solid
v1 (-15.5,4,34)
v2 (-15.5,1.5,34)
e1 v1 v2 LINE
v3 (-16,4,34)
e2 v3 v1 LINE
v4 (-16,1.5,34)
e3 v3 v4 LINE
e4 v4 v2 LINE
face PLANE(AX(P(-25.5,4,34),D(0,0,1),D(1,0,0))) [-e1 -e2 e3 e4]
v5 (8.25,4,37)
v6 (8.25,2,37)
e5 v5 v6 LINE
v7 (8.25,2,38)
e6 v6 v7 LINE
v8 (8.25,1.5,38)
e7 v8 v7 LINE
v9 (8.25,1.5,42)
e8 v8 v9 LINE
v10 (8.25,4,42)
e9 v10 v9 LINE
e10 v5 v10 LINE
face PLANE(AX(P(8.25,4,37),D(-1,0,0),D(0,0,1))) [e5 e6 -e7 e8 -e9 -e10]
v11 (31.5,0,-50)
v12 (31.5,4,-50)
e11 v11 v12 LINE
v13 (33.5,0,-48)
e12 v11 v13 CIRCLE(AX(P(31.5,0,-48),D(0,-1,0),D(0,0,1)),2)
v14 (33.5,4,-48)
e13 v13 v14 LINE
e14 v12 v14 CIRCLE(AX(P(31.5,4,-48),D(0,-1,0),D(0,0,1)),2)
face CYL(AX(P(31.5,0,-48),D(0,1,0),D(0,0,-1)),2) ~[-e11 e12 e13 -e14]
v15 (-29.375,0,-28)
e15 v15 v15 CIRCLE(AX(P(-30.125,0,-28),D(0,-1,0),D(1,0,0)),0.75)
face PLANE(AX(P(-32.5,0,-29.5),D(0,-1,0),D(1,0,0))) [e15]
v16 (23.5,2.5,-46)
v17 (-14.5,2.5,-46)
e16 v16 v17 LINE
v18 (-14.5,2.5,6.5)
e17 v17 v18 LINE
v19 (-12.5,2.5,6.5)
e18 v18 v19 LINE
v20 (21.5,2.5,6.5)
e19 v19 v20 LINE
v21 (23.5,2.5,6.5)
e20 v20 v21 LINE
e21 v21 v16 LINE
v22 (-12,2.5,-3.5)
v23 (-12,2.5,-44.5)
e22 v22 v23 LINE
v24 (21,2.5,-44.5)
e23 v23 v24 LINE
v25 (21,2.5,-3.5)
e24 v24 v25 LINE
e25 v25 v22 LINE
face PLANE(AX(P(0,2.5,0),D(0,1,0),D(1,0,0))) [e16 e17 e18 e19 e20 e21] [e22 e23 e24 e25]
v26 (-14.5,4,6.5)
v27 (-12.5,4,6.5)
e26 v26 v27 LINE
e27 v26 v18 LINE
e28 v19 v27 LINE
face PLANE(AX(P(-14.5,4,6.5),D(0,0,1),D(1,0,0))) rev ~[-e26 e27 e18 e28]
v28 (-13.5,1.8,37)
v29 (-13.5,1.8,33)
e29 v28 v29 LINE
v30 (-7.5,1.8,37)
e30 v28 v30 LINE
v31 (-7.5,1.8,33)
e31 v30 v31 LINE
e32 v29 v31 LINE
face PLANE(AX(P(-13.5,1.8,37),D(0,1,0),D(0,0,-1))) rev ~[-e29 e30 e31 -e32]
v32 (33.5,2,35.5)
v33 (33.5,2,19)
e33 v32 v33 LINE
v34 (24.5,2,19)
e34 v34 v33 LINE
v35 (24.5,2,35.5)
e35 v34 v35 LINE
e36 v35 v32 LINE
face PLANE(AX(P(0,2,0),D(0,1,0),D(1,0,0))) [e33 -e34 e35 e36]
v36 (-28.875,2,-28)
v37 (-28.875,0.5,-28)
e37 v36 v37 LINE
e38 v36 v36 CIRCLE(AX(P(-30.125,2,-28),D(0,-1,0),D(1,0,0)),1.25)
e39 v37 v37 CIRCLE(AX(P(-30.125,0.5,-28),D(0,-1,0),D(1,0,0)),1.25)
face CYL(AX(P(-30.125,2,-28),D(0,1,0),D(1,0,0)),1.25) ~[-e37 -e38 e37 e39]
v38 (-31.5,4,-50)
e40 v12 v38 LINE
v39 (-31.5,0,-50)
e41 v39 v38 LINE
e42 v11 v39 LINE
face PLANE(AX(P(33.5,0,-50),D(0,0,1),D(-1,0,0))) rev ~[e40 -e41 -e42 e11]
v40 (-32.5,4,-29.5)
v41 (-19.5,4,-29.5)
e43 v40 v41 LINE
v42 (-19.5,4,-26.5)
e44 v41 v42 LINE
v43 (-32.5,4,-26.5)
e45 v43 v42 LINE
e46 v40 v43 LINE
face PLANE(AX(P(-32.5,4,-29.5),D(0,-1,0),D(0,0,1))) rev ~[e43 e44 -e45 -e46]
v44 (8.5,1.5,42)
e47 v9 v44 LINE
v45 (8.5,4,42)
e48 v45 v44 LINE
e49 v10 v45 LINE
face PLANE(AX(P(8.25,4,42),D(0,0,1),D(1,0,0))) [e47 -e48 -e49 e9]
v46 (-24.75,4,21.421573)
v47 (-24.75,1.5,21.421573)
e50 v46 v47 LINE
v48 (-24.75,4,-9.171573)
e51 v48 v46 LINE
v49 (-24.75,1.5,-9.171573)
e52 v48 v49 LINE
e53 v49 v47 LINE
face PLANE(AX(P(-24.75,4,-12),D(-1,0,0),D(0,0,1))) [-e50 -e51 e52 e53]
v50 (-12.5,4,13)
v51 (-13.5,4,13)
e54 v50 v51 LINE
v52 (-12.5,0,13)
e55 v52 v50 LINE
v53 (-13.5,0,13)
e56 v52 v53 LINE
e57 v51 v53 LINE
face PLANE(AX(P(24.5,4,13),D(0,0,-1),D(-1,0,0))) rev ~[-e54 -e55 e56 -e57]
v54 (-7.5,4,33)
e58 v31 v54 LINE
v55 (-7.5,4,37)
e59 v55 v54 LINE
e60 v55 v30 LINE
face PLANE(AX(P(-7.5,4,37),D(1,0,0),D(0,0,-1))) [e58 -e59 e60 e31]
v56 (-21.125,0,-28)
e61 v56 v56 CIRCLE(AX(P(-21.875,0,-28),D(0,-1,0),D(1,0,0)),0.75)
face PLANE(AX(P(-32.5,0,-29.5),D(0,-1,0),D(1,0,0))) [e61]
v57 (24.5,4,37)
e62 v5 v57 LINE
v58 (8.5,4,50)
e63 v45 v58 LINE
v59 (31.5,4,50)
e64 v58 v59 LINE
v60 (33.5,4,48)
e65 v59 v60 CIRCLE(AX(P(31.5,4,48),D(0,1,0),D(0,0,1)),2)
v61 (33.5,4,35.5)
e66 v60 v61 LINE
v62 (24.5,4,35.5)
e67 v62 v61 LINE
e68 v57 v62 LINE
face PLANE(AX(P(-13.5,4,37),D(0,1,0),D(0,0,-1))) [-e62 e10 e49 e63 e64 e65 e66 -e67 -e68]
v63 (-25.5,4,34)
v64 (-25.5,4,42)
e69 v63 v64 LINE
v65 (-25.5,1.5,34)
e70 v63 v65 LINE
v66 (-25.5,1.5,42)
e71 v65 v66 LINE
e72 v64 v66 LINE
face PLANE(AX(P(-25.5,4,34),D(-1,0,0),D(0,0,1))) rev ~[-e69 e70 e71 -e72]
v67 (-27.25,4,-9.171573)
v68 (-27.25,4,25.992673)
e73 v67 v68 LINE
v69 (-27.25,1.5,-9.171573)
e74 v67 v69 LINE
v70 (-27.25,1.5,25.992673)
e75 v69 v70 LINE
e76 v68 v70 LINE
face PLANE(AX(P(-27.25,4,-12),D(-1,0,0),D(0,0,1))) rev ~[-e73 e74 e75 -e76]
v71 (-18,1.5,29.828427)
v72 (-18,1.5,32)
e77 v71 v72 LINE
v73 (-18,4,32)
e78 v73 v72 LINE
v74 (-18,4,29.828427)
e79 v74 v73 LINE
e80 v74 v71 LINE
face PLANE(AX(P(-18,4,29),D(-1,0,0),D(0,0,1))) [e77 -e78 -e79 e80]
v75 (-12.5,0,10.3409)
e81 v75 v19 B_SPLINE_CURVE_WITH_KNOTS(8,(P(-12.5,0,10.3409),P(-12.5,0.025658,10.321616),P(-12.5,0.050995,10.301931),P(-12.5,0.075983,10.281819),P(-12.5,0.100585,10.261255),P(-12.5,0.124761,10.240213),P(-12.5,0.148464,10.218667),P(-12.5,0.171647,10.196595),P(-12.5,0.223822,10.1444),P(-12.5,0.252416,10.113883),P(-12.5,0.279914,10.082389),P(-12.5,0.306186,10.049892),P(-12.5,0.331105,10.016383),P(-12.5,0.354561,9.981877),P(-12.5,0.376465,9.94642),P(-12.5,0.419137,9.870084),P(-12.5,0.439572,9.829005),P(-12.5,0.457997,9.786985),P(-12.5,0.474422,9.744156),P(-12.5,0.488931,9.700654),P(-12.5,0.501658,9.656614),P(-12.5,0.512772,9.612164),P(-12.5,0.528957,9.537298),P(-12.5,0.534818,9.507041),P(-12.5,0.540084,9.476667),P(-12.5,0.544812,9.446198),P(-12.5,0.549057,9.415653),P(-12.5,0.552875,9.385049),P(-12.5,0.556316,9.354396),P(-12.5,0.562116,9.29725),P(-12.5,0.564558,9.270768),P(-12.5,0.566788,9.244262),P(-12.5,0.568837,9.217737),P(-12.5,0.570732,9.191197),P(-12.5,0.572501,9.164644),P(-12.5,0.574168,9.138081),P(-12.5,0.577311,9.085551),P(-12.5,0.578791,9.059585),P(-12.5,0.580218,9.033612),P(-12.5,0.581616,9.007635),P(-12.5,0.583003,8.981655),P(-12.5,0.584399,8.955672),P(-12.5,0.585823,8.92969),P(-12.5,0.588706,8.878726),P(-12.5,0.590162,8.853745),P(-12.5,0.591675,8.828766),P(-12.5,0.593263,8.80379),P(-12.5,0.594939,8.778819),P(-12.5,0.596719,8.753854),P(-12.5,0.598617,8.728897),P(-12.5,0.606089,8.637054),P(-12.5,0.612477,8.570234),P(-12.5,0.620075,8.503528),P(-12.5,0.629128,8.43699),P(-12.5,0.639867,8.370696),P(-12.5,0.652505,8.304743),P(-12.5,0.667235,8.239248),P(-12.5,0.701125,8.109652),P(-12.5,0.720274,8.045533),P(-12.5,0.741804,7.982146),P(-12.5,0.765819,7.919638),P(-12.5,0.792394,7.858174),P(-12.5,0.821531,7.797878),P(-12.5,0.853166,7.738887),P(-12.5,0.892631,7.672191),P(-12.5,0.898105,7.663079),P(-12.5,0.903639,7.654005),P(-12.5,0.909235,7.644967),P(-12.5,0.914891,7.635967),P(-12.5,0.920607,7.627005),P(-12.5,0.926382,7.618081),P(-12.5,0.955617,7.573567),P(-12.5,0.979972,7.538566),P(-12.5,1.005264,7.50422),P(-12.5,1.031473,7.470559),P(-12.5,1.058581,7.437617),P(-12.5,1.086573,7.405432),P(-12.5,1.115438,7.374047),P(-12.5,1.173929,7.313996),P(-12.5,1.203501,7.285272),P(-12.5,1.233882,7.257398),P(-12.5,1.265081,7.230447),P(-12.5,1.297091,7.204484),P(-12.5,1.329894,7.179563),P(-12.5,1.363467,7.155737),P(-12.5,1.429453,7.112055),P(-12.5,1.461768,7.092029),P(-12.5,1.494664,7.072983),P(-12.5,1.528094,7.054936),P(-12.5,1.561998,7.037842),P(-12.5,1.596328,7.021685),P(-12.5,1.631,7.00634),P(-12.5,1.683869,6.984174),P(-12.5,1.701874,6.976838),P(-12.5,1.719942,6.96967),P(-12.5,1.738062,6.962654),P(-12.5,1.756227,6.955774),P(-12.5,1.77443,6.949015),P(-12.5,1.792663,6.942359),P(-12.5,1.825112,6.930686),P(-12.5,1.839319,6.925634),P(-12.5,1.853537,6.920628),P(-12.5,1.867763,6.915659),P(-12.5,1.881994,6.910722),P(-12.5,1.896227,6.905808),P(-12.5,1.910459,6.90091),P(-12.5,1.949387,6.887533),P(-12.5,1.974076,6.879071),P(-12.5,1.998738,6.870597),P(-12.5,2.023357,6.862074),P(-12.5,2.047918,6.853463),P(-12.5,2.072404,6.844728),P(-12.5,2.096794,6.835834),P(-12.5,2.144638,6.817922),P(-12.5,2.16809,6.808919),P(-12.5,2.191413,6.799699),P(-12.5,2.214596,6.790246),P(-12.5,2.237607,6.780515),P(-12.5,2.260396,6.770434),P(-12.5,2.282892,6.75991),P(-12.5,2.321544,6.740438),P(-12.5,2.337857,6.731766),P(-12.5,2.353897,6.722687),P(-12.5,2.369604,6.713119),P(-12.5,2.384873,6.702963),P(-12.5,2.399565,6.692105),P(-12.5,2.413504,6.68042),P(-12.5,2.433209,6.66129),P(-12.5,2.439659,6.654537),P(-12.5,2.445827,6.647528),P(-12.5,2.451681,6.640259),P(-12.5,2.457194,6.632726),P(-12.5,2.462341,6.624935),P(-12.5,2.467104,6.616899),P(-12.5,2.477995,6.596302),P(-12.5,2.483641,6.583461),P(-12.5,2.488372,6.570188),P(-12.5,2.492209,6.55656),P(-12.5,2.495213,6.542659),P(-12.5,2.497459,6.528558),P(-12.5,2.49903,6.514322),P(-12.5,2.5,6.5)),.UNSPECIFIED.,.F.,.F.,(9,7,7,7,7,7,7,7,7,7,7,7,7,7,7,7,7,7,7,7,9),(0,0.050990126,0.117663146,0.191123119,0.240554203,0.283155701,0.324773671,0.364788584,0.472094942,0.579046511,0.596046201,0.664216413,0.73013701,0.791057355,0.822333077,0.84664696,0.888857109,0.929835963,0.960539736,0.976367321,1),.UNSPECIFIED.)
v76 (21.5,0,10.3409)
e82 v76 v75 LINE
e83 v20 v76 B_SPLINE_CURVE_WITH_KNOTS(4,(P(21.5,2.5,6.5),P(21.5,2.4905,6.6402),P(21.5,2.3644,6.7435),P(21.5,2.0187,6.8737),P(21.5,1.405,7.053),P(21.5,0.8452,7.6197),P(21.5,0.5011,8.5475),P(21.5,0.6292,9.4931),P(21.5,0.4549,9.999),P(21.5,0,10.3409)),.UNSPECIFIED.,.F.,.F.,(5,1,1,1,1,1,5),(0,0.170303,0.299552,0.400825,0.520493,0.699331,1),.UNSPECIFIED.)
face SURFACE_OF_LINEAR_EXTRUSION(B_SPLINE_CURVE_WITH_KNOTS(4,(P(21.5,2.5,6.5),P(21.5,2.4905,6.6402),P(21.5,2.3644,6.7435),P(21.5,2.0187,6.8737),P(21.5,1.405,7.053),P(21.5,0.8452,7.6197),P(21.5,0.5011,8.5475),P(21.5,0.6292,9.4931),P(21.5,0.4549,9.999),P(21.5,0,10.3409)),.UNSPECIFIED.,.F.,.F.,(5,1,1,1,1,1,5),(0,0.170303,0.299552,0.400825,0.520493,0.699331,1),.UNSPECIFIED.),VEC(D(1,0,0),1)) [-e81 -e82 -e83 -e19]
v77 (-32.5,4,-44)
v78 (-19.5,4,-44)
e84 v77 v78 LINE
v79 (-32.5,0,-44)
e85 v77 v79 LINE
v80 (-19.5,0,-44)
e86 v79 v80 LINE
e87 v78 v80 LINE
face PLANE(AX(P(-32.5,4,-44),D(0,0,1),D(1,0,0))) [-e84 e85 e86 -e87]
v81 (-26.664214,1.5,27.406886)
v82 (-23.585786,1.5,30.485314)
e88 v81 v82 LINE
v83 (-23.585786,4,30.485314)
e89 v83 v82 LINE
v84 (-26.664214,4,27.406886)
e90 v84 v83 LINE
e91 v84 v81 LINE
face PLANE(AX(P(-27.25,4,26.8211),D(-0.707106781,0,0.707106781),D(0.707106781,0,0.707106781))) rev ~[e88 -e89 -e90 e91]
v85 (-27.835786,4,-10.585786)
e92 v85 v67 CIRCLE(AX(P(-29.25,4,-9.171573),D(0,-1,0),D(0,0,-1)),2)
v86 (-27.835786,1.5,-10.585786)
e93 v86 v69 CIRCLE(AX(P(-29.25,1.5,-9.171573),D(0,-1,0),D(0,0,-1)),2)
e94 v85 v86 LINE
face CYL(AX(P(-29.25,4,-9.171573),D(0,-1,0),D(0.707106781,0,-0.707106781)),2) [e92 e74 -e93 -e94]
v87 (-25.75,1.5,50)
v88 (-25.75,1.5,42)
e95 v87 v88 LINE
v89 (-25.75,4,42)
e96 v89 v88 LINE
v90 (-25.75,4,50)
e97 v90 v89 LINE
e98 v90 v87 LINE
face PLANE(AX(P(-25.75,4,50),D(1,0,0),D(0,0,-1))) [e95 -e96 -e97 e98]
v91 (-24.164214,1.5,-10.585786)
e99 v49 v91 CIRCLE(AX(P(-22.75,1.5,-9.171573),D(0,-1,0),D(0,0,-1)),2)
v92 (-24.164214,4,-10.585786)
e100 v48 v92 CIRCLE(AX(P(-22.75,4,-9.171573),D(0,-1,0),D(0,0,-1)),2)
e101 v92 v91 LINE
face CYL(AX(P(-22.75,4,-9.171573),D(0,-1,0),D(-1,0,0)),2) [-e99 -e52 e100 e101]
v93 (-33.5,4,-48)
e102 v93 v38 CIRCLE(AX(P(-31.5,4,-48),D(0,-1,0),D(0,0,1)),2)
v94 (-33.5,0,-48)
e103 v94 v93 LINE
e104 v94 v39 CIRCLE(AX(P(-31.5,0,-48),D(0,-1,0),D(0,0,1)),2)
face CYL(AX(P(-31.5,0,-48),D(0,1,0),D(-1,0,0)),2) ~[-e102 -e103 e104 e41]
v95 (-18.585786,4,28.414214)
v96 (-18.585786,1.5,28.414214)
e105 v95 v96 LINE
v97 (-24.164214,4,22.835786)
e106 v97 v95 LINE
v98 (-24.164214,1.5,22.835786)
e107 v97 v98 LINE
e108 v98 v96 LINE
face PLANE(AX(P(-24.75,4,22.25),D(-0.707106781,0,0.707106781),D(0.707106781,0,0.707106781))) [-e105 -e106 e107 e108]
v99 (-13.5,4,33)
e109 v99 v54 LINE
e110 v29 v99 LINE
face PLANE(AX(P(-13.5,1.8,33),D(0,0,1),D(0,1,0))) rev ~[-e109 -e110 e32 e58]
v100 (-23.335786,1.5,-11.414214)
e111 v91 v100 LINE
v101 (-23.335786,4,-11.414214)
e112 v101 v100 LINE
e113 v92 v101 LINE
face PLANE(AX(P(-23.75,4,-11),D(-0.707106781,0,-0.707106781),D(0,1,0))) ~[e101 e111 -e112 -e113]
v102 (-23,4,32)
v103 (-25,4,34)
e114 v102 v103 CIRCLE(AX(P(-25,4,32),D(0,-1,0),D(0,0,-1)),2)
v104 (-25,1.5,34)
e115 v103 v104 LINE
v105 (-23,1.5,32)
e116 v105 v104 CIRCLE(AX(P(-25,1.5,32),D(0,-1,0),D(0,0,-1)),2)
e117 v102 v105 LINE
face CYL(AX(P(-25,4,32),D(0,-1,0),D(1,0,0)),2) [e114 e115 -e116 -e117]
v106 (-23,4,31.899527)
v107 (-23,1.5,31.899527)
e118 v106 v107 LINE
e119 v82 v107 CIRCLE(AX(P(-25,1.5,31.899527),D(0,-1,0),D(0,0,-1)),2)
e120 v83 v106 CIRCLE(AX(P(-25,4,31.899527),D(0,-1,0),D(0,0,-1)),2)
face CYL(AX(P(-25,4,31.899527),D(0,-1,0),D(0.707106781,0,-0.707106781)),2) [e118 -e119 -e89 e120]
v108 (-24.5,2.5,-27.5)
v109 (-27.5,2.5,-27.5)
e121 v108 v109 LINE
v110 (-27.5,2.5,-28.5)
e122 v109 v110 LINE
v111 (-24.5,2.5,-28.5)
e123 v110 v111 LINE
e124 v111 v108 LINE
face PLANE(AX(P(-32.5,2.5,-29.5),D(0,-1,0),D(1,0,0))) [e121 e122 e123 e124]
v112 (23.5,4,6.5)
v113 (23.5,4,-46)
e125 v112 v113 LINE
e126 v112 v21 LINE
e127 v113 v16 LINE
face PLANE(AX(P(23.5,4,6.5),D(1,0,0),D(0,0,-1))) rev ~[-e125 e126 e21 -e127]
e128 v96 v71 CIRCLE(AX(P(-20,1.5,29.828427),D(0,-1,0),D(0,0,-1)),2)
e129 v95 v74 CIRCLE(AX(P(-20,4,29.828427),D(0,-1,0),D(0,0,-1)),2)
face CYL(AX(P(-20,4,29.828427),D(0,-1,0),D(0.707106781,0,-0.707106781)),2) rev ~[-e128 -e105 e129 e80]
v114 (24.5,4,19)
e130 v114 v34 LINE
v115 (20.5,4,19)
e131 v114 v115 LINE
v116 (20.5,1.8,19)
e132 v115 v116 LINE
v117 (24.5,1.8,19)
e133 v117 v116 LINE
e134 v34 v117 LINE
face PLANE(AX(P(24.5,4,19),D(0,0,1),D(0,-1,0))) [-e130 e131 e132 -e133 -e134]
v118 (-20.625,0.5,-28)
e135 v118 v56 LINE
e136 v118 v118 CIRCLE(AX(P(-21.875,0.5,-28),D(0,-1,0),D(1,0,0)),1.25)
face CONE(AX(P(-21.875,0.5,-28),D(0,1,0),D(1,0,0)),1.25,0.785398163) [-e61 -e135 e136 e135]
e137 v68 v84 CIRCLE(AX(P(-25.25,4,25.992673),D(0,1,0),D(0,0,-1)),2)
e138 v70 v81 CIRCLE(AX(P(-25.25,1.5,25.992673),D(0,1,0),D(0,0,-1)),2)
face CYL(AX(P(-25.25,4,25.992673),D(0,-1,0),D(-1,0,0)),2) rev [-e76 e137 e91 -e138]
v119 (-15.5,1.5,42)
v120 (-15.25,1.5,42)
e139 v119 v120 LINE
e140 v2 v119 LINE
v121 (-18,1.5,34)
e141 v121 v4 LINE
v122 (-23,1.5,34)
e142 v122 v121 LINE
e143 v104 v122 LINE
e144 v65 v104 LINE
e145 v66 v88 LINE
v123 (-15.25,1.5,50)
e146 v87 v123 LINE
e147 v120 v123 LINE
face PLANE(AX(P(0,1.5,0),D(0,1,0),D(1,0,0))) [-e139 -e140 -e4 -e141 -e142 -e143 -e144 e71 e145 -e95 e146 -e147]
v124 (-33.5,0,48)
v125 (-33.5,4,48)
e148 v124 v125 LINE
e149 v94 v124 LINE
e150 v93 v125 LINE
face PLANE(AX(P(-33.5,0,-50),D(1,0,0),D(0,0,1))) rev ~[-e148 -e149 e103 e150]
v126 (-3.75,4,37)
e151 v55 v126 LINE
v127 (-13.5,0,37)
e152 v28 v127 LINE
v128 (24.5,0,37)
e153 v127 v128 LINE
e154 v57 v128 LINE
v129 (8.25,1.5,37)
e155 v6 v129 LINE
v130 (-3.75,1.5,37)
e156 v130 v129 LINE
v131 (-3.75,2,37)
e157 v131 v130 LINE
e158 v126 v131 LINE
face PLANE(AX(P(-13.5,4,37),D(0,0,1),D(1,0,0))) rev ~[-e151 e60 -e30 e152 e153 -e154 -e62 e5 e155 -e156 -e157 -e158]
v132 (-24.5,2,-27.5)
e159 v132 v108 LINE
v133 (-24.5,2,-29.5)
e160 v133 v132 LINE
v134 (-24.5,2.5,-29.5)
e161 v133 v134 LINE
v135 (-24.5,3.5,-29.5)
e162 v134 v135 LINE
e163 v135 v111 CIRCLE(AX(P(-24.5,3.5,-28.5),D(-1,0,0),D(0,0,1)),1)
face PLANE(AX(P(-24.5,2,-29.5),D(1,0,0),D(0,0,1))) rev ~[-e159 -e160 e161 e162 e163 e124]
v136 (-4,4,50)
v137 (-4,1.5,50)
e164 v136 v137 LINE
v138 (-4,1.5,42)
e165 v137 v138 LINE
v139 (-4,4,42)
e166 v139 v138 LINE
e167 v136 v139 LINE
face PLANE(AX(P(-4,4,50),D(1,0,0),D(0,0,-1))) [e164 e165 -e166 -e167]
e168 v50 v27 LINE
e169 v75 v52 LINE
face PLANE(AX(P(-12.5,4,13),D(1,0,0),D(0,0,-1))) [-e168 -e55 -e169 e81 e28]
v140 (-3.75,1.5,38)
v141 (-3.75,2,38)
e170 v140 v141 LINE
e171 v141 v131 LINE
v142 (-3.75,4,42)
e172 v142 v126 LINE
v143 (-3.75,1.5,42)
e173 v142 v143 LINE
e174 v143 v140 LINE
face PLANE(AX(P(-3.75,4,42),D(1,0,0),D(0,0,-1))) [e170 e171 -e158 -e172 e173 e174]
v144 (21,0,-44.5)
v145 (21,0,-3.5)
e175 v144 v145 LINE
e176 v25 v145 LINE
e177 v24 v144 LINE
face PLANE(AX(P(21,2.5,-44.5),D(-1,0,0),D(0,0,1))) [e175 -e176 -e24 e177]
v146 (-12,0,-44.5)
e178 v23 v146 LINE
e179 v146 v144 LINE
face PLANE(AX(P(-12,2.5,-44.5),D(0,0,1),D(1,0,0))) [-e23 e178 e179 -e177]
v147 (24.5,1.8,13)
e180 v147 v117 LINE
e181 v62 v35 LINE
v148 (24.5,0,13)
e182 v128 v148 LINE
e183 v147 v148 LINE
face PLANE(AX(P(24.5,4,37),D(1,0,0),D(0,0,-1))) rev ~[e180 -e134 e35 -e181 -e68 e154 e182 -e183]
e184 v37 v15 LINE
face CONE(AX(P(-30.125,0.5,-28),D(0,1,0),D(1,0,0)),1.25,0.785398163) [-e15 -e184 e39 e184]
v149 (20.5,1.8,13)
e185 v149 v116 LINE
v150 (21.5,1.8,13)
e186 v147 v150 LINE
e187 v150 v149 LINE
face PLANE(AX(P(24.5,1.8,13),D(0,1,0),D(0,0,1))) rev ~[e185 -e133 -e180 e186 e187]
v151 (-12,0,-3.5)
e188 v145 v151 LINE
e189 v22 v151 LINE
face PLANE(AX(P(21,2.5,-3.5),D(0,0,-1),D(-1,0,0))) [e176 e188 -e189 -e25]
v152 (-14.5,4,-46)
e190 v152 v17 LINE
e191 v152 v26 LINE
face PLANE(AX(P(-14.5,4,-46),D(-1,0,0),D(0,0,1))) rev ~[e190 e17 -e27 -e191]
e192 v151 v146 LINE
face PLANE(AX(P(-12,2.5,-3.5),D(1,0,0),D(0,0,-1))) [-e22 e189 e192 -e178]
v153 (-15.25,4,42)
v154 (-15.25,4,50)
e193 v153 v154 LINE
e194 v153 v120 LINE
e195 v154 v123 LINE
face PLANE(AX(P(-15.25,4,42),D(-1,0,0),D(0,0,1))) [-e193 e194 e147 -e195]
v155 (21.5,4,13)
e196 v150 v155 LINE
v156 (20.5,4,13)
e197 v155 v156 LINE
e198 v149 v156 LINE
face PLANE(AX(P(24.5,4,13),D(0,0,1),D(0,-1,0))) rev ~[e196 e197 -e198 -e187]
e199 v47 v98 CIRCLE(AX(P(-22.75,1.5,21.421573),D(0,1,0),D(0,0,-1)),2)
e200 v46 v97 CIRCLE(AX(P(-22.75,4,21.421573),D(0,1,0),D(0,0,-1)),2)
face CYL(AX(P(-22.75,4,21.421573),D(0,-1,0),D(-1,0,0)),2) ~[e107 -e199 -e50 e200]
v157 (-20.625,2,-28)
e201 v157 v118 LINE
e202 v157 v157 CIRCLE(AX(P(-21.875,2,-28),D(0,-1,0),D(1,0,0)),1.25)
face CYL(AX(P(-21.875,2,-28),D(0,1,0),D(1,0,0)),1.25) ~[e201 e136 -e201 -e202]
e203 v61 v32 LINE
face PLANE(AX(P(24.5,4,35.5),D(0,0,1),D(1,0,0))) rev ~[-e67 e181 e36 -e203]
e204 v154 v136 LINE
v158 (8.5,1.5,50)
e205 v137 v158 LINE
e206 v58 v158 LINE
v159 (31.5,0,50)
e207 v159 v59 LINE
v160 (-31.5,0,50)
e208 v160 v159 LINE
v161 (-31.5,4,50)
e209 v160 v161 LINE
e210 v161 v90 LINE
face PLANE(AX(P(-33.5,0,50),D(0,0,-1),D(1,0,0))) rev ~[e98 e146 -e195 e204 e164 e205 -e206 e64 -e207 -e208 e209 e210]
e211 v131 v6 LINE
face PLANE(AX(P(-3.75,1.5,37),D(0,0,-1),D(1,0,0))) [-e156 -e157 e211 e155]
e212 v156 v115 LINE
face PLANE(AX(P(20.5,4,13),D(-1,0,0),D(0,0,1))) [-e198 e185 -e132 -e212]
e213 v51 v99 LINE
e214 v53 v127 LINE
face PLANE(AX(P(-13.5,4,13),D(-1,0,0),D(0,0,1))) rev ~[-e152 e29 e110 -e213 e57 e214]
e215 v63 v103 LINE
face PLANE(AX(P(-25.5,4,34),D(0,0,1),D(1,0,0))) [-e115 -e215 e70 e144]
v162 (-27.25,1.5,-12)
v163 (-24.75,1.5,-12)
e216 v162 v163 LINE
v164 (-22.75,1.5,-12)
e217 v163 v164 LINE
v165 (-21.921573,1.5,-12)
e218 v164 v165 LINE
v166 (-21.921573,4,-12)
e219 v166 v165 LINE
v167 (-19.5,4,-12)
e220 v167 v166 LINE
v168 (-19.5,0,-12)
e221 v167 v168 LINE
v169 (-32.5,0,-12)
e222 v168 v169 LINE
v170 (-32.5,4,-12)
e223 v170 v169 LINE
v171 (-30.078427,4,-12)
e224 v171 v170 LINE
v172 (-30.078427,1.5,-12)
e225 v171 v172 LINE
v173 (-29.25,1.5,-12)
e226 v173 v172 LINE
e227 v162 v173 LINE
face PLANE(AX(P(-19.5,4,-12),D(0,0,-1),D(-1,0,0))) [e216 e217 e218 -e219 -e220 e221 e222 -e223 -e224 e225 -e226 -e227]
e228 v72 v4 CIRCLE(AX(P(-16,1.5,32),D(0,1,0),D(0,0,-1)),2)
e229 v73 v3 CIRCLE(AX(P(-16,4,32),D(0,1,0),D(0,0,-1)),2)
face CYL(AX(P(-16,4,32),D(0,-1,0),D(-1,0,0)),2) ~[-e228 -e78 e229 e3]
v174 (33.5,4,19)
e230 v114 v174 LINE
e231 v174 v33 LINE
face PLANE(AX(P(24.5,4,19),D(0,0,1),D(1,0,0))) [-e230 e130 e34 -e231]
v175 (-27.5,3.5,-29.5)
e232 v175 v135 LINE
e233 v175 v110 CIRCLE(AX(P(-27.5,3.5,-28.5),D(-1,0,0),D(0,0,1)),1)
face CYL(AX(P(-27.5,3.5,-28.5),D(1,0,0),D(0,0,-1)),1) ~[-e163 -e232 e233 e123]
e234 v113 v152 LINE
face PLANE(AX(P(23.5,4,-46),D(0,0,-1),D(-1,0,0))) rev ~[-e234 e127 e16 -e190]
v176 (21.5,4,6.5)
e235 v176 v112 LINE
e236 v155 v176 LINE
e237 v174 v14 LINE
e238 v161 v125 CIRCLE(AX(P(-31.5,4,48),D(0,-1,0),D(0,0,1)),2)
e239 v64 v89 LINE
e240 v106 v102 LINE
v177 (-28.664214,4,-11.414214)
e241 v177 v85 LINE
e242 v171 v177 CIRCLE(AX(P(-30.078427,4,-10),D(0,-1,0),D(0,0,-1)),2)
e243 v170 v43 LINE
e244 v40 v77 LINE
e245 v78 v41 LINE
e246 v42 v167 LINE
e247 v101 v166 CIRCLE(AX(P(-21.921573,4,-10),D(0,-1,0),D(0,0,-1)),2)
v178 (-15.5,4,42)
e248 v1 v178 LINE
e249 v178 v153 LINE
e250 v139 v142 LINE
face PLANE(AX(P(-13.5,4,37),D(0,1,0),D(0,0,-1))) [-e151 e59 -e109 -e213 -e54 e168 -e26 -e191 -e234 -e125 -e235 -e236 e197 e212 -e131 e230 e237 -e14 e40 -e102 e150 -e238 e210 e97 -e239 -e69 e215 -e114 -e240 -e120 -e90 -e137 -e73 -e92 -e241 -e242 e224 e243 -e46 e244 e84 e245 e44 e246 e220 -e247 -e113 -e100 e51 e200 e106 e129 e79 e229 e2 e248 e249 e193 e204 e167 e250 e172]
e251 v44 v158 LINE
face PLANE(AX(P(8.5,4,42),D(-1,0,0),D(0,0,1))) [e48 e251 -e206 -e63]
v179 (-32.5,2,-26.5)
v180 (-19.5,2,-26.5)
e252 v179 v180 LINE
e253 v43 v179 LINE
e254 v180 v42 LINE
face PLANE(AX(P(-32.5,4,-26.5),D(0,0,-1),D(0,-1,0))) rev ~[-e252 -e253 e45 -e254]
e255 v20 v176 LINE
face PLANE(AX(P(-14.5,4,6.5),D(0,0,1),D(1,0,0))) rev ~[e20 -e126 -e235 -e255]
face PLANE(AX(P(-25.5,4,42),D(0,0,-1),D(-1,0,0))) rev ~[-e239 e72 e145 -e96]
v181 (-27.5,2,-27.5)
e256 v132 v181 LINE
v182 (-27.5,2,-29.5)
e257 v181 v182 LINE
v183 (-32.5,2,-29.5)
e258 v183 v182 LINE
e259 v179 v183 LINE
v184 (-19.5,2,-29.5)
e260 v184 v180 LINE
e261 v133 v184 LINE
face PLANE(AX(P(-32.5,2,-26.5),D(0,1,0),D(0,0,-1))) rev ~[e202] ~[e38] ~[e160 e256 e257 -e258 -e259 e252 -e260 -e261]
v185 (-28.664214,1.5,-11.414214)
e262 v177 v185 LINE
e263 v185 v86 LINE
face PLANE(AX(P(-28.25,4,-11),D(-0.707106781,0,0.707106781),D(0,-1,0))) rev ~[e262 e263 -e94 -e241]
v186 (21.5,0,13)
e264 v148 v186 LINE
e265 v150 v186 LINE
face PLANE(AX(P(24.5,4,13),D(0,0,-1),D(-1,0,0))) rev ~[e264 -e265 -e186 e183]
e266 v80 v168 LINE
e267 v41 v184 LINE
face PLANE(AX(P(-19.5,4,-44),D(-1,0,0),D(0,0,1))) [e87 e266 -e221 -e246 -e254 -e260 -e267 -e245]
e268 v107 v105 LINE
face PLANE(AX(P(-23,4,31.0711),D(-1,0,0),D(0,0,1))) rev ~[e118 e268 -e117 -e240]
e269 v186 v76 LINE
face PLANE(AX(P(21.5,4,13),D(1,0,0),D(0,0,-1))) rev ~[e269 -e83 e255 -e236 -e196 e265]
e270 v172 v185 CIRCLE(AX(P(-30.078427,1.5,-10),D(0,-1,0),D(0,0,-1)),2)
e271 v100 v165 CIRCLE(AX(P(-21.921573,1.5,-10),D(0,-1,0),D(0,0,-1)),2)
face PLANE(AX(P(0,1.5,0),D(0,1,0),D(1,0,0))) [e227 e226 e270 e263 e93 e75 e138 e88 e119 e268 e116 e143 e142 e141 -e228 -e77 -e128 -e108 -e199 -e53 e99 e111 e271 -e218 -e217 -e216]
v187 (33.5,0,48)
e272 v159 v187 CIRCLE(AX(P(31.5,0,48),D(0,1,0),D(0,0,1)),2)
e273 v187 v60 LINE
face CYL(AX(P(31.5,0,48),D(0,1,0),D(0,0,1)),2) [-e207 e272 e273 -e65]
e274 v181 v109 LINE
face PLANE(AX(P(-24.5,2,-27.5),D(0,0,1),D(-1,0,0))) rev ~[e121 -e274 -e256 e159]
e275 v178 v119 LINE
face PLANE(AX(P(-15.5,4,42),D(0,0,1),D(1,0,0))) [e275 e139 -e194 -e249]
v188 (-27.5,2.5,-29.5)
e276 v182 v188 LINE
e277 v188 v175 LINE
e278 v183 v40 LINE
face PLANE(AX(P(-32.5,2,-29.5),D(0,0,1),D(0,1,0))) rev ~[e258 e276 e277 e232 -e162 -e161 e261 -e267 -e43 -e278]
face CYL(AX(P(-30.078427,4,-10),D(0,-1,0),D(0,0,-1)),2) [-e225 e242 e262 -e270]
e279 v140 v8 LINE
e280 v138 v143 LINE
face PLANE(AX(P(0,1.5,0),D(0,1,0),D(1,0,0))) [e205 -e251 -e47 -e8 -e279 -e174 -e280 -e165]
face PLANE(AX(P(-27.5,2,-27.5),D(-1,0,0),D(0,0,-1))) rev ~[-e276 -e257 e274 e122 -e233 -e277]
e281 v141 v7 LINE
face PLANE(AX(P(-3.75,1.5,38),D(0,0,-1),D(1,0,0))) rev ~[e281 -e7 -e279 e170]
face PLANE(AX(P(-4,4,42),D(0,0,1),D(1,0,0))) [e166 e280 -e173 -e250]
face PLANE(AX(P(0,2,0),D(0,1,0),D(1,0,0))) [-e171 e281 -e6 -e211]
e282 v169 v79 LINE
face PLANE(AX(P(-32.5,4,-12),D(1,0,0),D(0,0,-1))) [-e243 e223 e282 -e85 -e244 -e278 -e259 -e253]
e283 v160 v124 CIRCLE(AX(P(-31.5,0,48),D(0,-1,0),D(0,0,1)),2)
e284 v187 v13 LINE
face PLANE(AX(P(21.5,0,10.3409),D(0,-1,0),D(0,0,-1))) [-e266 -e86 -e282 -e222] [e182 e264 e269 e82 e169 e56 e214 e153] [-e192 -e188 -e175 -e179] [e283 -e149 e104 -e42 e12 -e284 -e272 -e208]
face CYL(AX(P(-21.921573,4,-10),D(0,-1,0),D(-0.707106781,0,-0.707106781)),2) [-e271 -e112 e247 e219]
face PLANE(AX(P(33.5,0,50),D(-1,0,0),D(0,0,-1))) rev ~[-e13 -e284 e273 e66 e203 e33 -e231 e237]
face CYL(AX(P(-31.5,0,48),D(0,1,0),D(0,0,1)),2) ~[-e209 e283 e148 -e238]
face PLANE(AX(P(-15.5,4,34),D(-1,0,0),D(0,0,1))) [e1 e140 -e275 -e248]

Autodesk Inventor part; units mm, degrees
ref_plane "YZ Plane" through (0, 0, 0) normal (1, 0, 0) x (0, 1, 0)
ref_plane "XZ Plane" through (0, 0, 0) normal (0, 1, 0) x (-1, 0, 0)
ref_plane "XY Plane" through (0, 0, 0) normal (0, 0, 1) x (1, 0, 0)
sketch "Sketch2" plane through (0, 0, 0) normal (0, 1, 0) x (-1, 0, 0)
  line L0 (-33.5, -50) -> (33.5, -50)
  line L1 (33.5, -50) -> (33.5, 50)
  line L2 (33.5, 50) -> (-33.5, 50)
  line L3 (-33.5, 50) -> (-33.5, -50)
  line L4 (-33.5, -50) -> (33.5, 50) construction
  line L5 (33.5, -50) -> (-33.5, 50) construction
  point P0 (0, 0)
  dimension "d0" = 67
  dimension "d1" = 100
extrude "Extrusion1" add sketch "Sketch2" along normal blind 4
sketch "Sketch3" plane through (0, 4, 0) normal (0, 1, 0) x (1, 0, 0)
  line L0 (33.5, 50) -> (-33.5, 50) projected
  line L1 (-14.5, -6.5) -> (23.5, -6.5)
  line L2 (23.5, -6.5) -> (23.5, 46)
  line L3 (23.5, 46) -> (-14.5, 46)
  line L4 (-14.5, 46) -> (-14.5, -6.5)
  line L5 (-14.5, -6.5) -> (23.5, 46) construction
  line L6 (23.5, -6.5) -> (-14.5, 46) construction
  line L7 (33.5, -50) -> (33.5, 50) projected
  point P0 (0, 0)
  point P1 (4.5, 19.75)
  dimension "d4" = 38
  dimension "d5" = 52.5
  dimension "d6" = 4
  dimension "d99" = 10
extrude "Extrusion2" cut sketch "Sketch3" against normal blind 1.5
sketch "Sketch4" plane through (0, 2.5, 0) normal (0, 1, 0) x (1, 0, 0)
  line L0 (23.5, -6.5) -> (-14.5, -6.5) projected
  line L1 (23.5, 46) -> (23.5, -6.5) projected
  line L2 (-14.5, 46) -> (23.5, 46) projected
  line L3 (-14.5, -6.5) -> (-14.5, 46) projected
  line L4 (-12, 44.5) -> (21, 44.5)
  line L5 (21, 44.5) -> (21, 3.5)
  line L6 (21, 3.5) -> (-12, 3.5)
  line L7 (-12, 3.5) -> (-12, 44.5)
  line L8 (-12, 44.5) -> (21, 3.5) construction
  line L9 (21, 44.5) -> (-12, 3.5) construction
  point P0 (0, 0)
  point P1 (4.5, 24)
  dimension "d9" = 10
  dimension "d10" = 1.5
  dimension "d11" = 2.5
  dimension "d12" = 2.5
extrude "Extrusion3" cut sketch "Sketch4" against normal blind 2.5 contours L4 L5 L6 L7
sketch "Sketch5" plane through (0, 4, 0) normal (0, 1, 0) x (1, 0, 0)
  line L0 (23.5, 46) -> (23.5, -6.5) projected
  line L1 (23.5, -6.5) -> (-14.5, -6.5) projected
  line L2 (-14.5, -6.5) -> (-14.5, 46) projected
  line L3 (-12.5, -13) -> (-12.5, -6.5)
  line L4 (21.5, -13) -> (21.5, -6.5)
  line L5 (33.5, 50) -> (-33.5, 50) projected
  line L6 (-12.5, -13) -> (21.5, -13)
  point P0 (0, 0)
  dimension "d18" = 2
  dimension "d19" = 2
  dimension "d158" = 6.5
extrude "Extrusion4" cut sketch "Sketch5" against normal blind 0.25
sketch "Sketch12" plane through (0, 4, 0) normal (0, 1, 0) x (1, 0, 0)
  line L0 (21.5, -13) -> (-12.5, -13) projected
  line L1 (-13.5, -37) -> (24.5, -37)
  line L2 (24.5, -37) -> (24.5, -13)
  line L3 (24.5, -13) -> (-13.5, -13)
  line L4 (-13.5, -13) -> (-13.5, -37)
  line L5 (-13.5, -37) -> (24.5, -13) construction
  line L6 (24.5, -37) -> (-13.5, -13) construction
  line L7 (23.5, 46) -> (23.5, -6.5) projected
  point P0 (0, 0)
  point P1 (5.5, -25)
  point P2 (5.5, -25)
  dimension "d58" = 38
  dimension "d59" = 24
  dimension "d100" = 1
extrude "Extrusion10" cut sketch "Sketch12" against normal blind 4
sketch "Sketch13" plane through (24.5, 4, 13) normal (-1, 0, 0) x (0, 0, 1)
  line L0 (0, 0) -> (24, 0) projected
  line L1 (0, 0) -> (0, -4) projected
  line L2 (24, -4) -> (0, -4) projected
  line L3 (6, 0) -> (6, -4)
  line L4 (0, -2.2) -> (6, -2.2)
  point P0 (-13, -4)
  dimension "d67" = 6
  dimension "d74" = 1.8
sketch "Sketch14" plane through (-13.5, 4, 37) normal (1, 0, 0) x (0, 0, -1)
  line L0 (0, 0) -> (24, 0) projected
  line L1 (0, 0) -> (0, -4)
  line L2 (4, -2.2) -> (4, 0)
  line L3 (24, -4) -> (0, -4) projected
  line L4 (0, -2.2) -> (4, -2.2)
  point P0 (37, -4)
  point P1 (0, -2)
  dimension "d79" = 1.8
  dimension "d180" = 4
extrude "Extrusion13" add sketch "Sketch13" along normal blind 4 contours L0 L3 L4 L1
extrude "Extrusion14" add sketch "Sketch14" along normal blind 6
sketch "Sketch16" plane through (0, 3.75, 0) normal (0, 1, 0) x (1, 0, 0)
  line L0 (-12.5, -13) -> (-12.5, -6.5) projected
  line L1 (20.5, -13) -> (-12.5, -13) projected
  line L2 (21.5, -13) -> (20.5, -13) projected
  line L3 (21.5, -6.5) -> (21.5, -13) projected
  line L4 (-12.5, -6.5) -> (21.5, -6.5) projected
  point P0 (0, 0)
extrude "Extrusion15" cut sketch "Sketch16" against normal up to next
sketch "Sketch17" plane through (21.5, 4, 6.5) normal (-1, 0, 0) x (0, 0, 1)
  line L0 (0, -1.5) -> (0, -4) projected
  line L1 (6.5, -4) -> (0, -4) projected
  line L2 (6.5, 0) -> (6.5, -2.2) projected
  line L3 (0, -1.5) -> (-1.7339, -1.5) construction
  spline S0 degree 4 poles (0, -1.5) (0.1402, -1.5095) (0.2435, -1.6356) (0.3737, -1.9813) (0.553, -2.595) (1.1197, -3.1548) (2.0475, -3.4989) (2.9931, -3.3708) (3.499, -3.5451) (3.8409, -4) knots 0 0 0 0 0 0.170303 0.299552 0.400825 0.520493 0.699331 1 1 1 1 1
  line L4 (3.4081, -3.4241) -> (4.2737, -4.5759) construction
  arc A0 (4.1216, -4.4884) -> (3.4499, -3.5946) centre (2.0035, -5.3809) ccw construction
  line L5 (0.8397, -2.9601) -> (1.8217, -3.4241) construction
  arc A1 (0.9695, -2.9668) -> (1.7341, -3.3281) centre (2.1148, -1.5326) ccw construction
  line L6 (-0.6498, -1.456) -> (0.6498, -1.544) construction
  arc A2 (0.2995, -1.6769) -> (-0.3206, -1.6349) centre (-0.0262, -1.8863) ccw construction
  line L7 (0.2788, -1.8046) -> (0.6778, -2.7982) construction
  point P0 (-6.5, -4)
  point P1 (0.2332, -1.6655)
  point P2 (0.4783, -2.3014)
  point P3 (1.3307, -3.1921)
  point P4 (2.6959, -3.4298)
  point P5 (2.8138, -1.3633)
  point P6 (0.354, -1.8963)
  point P7 (0.6678, -2.6804)
extrude "Extrusion16" add sketch "Sketch17" along normal up to next
sketch "Sketch18" plane through (0, 4, 0) normal (0, 1, 0) x (1, 0, 0)
  line L0 (-33.5, 50) -> (-33.5, -50) projected
  line L1 (-32.5, 44) -> (-19.5, 44)
  line L2 (-19.5, 44) -> (-19.5, 12)
  line L3 (-19.5, 12) -> (-32.5, 12)
  line L4 (-32.5, 12) -> (-32.5, 44)
  line L5 (33.5, 50) -> (-33.5, 50) projected
  point P0 (0, 0)
  dimension "d89" = 1
  dimension "d97" = 13
  dimension "d98" = 32
  dimension "d157" = 6
extrude "Extrusion17" cut sketch "Sketch18" against normal up to next
sketch "Sketch19" plane through (-32.5, 4, -12) normal (1, 0, 0) x (0, 0, -1)
  line L0 (0, 0) -> (0, -4) projected
  line L1 (14.5, -2) -> (17.5, -2)
  line L2 (17.5, -2) -> (17.5, 0)
  line L3 (17.5, 0) -> (14.5, 0)
  line L4 (14.5, 0) -> (14.5, -2)
  line L5 (14.5, -2) -> (17.5, 0) construction
  line L6 (17.5, -2) -> (14.5, 0) construction
  line L7 (0, 0) -> (32, 0) projected
  point P0 (16, -1)
  dimension "d106" = 3
  dimension "d107" = 2
  dimension "d108" = 16
extrude "Extrusion18" add sketch "Sketch19" along normal up to next
sketch "Sketch21" plane through (-32.5, 2, -29.5) normal (0, -1, 0) x (1, 0, 0)
  line L0 (5, 0) -> (8, 0)
  line L1 (8, 0) -> (8, 2)
  line L2 (8, 2) -> (5, 2)
  line L3 (5, 2) -> (5, 0)
  line L4 (5, 0) -> (8, 2) construction
  line L5 (8, 0) -> (5, 2) construction
  line L6 (0, 0) -> (13, 0) projected
  point P0 (-32.5, -3.5)
  point P1 (6.5, 1)
  point P2 (6.5, 1)
  point P3 (6.5, 1)
  point P4 (6.5, 0)
  dimension "d111" = 3
  dimension "d112" = 2
extrude "Extrusion19" cut sketch "Sketch21" against normal blind 0.5
fillet "Fillet6" radius 1 1 edges at (-26, 2.5, -29.5)
sketch "Sketch22" plane through (-32.5, 2, -29.5) normal (0, -1, 0) x (1, 0, 0)
  line L0 (13, 0) -> (13, 3)
  circle A0 centre (2.375, 1.5) radius 1.25
  circle A1 centre (10.625, 1.5) radius 1.25
  line L1 (0, 3) -> (13, 3) projected
  line L2 (0, 0) -> (0, 3) projected
  line L3 (0, 0) -> (5, 0) projected
  point P0 (6.5, 1.5)
  point P1 (6.5, 3)
  point P2 (13, 1.5)
  point P3 (0, 1.5)
  point P4 (6.5, 3)
  dimension "d116" = 2.5
  dimension "d117" = 2.5
  dimension "d118" = 8.25
  dimension "d119" = 4.125
extrude "Extrusion20" add sketch "Sketch22" along normal blind 2
chamfer "Chamfer3" distance 0.5 angle 45 2 edges at (-31.375, 0, -28) (-23.125, 0, -28)
sketch "Sketch23" plane through (0, 4, 0) normal (0, 1, 0) x (1, 0, 0)
  line L0 (-33.5, 50) -> (-33.5, -50) projected
  line L1 (-33.5, -50) -> (33.5, -50) projected
  line L2 (-25.75, -34) -> (-15.25, -34)
  line L3 (-15.25, -34) -> (-15.25, -50)
  line L4 (-15.25, -50) -> (-25.75, -50)
  line L5 (-25.75, -50) -> (-25.75, -34)
  line L6 (-25.75, -34) -> (-15.25, -50) construction
  line L7 (-15.25, -34) -> (-25.75, -50) construction
  line L8 (21.5, -6.5) -> (21.5, -13) projected
  line L9 (-25.5, -34) -> (-25.5, -42)
  line L10 (-25.5, -42) -> (-25.75, -42)
  line L11 (-15.5, -34) -> (-15.5, -42)
  line L12 (-15.5, -42) -> (-15.25, -42)
  point P0 (0, 0)
  point P1 (-20.5, -42)
  dimension "d125" = 10.5
  dimension "d126" = 16
  dimension "d127" = 13
  dimension "d130" = 0.25
  dimension "d131" = 0.25
  dimension "d132" = 8
extrude "Extrusion22" cut sketch "Sketch23" against normal blind 2.5 contours L5 L10 L9 L2 L11 L12 L3 L1
sketch "Sketch25" plane through (0, 4, 0) normal (0, 1, 0) x (1, 0, 0)
  line L0 (33.5, -50) -> (33.5, 50) projected
  line L1 (24.5, -19) -> (24.5, -37) projected
  line L2 (24.5, -37) -> (-7.5, -37) projected
  line L3 (24.5, -19) -> (33.5, -19)
  line L4 (24.5, -35.5) -> (33.5, -35.5)
  point P0 (0, 0)
  dimension "d150" = 1.5
extrude "Extrusion24" cut sketch "Sketch25" against normal blind 2
sketch "Sketch27" plane through (0, 4, 0) normal (0, 1, 0) x (1, 0, 0)
  line L0 (-15.25, -50) -> (33.5, -50) projected
  line L1 (24.5, -35.5) -> (24.5, -37) projected
  line L2 (-4, -42) -> (8.5, -42)
  line L3 (8.5, -42) -> (8.5, -50)
  line L4 (8.5, -50) -> (-4, -50)
  line L5 (-4, -50) -> (-4, -42)
  line L6 (-4, -42) -> (8.5, -50) construction
  line L7 (8.5, -42) -> (-4, -50) construction
  line L8 (-3.75, -37) -> (8.25, -37)
  line L9 (8.25, -37) -> (8.25, -42)
  line L10 (8.25, -42) -> (-3.75, -42)
  line L11 (-3.75, -42) -> (-3.75, -37)
  line L12 (-3.75, -37) -> (8.25, -42) construction
  line L13 (8.25, -37) -> (-3.75, -42) construction
  line L14 (24.5, -37) -> (-7.5, -37) projected
  point P0 (0, 0)
  point P1 (2.25, -46)
  point P2 (2.25, -39.5)
  point P3 (2.25, -39.5)
  point P4 (2.25, -46)
  dimension "d166" = 12.5
  dimension "d167" = 8
  dimension "d168" = 12
  dimension "d170" = 16
extrude "Extrusion26" cut sketch "Sketch27" against normal blind 2.5
sketch "Sketch29" plane through (0, 1.5, 0) normal (0, 1, 0) x (1, 0, 0)
  line L0 (-3.75, -37) -> (8.25, -37) projected
  line L1 (-3.75, -42) -> (-3.75, -37) projected
  line L2 (8.25, -37) -> (8.25, -42) projected
  line L3 (-3.75, -38) -> (8.25, -38)
  point P0 (0, 0)
  dimension "d177" = 1
extrude "Extrusion28" add sketch "Sketch29" along normal blind 0.5
sketch "Sketch30" plane through (0, 4, 0) normal (0, 1, 0) x (1, 0, 0)
  line L0 (-27.25, 12) -> (-27.25, -26.8211)
  line L1 (-27.25, -26.8211) -> (-23, -31.0711)
  line L2 (-23, -31.0711) -> (-23, -34)
  line L3 (-24.75, 12) -> (-24.75, -22.25)
  line L4 (-24.75, -22.25) -> (-18, -29)
  line L5 (-18, -29) -> (-18, -34)
  line L6 (-25.5, -34) -> (-15.5, -34) projected
  line L7 (-32.5, 12) -> (-19.5, 12) projected
  line L8 (-27.25, 12) -> (-24.75, 12)
  line L9 (-23, -34) -> (-18, -34)
  line L10 (-25.5, -34) -> (-15.5, -34) projected
  point P0 (0, 0)
  point P1 (-20.5, -34)
  point P2 (-20.5, -34)
  point P3 (-26, 12)
  point P4 (-26, 12)
  point P5 (-20.5, -34)
  point P6 (-26, 12)
  dimension "d181" = 2.5
  dimension "d182" = 5
  dimension "d183" = 45
  dimension "d184" = 45
  dimension "d185" = 2.5
  dimension "d186" = 1.25
  dimension "d188" = 5
  dimension "d189" = 5
extrude "Extrusion29" cut sketch "Sketch30" against normal blind 2.5
chamfer "Chamfer5" distance 2 angle 45 2 edges at (-27.25, 2.75, -12) (-24.75, 2.75, -12)
fillet "Fillet9" radius 2 10 edges at (-23, 2.75, 34) (-18, 2.75, 34) (-18, 2.75, 29) (-24.75, 2.75, 22.25) (-24.75, 2.75, -10) (-22.75, 2.75, -12) (-29.25, 2.75, -12) (-27.25, 2.75, -10) (-27.25, 2.75, 26.8211) (-23, 2.75, 31.0711)
fillet "Fillet10" radius 2 4 edges at (33.5, 2, 50) (-33.5, 2, 50) (33.5, 2, -50) (-33.5, 2, -50)
properties part number "DisplayTop"
